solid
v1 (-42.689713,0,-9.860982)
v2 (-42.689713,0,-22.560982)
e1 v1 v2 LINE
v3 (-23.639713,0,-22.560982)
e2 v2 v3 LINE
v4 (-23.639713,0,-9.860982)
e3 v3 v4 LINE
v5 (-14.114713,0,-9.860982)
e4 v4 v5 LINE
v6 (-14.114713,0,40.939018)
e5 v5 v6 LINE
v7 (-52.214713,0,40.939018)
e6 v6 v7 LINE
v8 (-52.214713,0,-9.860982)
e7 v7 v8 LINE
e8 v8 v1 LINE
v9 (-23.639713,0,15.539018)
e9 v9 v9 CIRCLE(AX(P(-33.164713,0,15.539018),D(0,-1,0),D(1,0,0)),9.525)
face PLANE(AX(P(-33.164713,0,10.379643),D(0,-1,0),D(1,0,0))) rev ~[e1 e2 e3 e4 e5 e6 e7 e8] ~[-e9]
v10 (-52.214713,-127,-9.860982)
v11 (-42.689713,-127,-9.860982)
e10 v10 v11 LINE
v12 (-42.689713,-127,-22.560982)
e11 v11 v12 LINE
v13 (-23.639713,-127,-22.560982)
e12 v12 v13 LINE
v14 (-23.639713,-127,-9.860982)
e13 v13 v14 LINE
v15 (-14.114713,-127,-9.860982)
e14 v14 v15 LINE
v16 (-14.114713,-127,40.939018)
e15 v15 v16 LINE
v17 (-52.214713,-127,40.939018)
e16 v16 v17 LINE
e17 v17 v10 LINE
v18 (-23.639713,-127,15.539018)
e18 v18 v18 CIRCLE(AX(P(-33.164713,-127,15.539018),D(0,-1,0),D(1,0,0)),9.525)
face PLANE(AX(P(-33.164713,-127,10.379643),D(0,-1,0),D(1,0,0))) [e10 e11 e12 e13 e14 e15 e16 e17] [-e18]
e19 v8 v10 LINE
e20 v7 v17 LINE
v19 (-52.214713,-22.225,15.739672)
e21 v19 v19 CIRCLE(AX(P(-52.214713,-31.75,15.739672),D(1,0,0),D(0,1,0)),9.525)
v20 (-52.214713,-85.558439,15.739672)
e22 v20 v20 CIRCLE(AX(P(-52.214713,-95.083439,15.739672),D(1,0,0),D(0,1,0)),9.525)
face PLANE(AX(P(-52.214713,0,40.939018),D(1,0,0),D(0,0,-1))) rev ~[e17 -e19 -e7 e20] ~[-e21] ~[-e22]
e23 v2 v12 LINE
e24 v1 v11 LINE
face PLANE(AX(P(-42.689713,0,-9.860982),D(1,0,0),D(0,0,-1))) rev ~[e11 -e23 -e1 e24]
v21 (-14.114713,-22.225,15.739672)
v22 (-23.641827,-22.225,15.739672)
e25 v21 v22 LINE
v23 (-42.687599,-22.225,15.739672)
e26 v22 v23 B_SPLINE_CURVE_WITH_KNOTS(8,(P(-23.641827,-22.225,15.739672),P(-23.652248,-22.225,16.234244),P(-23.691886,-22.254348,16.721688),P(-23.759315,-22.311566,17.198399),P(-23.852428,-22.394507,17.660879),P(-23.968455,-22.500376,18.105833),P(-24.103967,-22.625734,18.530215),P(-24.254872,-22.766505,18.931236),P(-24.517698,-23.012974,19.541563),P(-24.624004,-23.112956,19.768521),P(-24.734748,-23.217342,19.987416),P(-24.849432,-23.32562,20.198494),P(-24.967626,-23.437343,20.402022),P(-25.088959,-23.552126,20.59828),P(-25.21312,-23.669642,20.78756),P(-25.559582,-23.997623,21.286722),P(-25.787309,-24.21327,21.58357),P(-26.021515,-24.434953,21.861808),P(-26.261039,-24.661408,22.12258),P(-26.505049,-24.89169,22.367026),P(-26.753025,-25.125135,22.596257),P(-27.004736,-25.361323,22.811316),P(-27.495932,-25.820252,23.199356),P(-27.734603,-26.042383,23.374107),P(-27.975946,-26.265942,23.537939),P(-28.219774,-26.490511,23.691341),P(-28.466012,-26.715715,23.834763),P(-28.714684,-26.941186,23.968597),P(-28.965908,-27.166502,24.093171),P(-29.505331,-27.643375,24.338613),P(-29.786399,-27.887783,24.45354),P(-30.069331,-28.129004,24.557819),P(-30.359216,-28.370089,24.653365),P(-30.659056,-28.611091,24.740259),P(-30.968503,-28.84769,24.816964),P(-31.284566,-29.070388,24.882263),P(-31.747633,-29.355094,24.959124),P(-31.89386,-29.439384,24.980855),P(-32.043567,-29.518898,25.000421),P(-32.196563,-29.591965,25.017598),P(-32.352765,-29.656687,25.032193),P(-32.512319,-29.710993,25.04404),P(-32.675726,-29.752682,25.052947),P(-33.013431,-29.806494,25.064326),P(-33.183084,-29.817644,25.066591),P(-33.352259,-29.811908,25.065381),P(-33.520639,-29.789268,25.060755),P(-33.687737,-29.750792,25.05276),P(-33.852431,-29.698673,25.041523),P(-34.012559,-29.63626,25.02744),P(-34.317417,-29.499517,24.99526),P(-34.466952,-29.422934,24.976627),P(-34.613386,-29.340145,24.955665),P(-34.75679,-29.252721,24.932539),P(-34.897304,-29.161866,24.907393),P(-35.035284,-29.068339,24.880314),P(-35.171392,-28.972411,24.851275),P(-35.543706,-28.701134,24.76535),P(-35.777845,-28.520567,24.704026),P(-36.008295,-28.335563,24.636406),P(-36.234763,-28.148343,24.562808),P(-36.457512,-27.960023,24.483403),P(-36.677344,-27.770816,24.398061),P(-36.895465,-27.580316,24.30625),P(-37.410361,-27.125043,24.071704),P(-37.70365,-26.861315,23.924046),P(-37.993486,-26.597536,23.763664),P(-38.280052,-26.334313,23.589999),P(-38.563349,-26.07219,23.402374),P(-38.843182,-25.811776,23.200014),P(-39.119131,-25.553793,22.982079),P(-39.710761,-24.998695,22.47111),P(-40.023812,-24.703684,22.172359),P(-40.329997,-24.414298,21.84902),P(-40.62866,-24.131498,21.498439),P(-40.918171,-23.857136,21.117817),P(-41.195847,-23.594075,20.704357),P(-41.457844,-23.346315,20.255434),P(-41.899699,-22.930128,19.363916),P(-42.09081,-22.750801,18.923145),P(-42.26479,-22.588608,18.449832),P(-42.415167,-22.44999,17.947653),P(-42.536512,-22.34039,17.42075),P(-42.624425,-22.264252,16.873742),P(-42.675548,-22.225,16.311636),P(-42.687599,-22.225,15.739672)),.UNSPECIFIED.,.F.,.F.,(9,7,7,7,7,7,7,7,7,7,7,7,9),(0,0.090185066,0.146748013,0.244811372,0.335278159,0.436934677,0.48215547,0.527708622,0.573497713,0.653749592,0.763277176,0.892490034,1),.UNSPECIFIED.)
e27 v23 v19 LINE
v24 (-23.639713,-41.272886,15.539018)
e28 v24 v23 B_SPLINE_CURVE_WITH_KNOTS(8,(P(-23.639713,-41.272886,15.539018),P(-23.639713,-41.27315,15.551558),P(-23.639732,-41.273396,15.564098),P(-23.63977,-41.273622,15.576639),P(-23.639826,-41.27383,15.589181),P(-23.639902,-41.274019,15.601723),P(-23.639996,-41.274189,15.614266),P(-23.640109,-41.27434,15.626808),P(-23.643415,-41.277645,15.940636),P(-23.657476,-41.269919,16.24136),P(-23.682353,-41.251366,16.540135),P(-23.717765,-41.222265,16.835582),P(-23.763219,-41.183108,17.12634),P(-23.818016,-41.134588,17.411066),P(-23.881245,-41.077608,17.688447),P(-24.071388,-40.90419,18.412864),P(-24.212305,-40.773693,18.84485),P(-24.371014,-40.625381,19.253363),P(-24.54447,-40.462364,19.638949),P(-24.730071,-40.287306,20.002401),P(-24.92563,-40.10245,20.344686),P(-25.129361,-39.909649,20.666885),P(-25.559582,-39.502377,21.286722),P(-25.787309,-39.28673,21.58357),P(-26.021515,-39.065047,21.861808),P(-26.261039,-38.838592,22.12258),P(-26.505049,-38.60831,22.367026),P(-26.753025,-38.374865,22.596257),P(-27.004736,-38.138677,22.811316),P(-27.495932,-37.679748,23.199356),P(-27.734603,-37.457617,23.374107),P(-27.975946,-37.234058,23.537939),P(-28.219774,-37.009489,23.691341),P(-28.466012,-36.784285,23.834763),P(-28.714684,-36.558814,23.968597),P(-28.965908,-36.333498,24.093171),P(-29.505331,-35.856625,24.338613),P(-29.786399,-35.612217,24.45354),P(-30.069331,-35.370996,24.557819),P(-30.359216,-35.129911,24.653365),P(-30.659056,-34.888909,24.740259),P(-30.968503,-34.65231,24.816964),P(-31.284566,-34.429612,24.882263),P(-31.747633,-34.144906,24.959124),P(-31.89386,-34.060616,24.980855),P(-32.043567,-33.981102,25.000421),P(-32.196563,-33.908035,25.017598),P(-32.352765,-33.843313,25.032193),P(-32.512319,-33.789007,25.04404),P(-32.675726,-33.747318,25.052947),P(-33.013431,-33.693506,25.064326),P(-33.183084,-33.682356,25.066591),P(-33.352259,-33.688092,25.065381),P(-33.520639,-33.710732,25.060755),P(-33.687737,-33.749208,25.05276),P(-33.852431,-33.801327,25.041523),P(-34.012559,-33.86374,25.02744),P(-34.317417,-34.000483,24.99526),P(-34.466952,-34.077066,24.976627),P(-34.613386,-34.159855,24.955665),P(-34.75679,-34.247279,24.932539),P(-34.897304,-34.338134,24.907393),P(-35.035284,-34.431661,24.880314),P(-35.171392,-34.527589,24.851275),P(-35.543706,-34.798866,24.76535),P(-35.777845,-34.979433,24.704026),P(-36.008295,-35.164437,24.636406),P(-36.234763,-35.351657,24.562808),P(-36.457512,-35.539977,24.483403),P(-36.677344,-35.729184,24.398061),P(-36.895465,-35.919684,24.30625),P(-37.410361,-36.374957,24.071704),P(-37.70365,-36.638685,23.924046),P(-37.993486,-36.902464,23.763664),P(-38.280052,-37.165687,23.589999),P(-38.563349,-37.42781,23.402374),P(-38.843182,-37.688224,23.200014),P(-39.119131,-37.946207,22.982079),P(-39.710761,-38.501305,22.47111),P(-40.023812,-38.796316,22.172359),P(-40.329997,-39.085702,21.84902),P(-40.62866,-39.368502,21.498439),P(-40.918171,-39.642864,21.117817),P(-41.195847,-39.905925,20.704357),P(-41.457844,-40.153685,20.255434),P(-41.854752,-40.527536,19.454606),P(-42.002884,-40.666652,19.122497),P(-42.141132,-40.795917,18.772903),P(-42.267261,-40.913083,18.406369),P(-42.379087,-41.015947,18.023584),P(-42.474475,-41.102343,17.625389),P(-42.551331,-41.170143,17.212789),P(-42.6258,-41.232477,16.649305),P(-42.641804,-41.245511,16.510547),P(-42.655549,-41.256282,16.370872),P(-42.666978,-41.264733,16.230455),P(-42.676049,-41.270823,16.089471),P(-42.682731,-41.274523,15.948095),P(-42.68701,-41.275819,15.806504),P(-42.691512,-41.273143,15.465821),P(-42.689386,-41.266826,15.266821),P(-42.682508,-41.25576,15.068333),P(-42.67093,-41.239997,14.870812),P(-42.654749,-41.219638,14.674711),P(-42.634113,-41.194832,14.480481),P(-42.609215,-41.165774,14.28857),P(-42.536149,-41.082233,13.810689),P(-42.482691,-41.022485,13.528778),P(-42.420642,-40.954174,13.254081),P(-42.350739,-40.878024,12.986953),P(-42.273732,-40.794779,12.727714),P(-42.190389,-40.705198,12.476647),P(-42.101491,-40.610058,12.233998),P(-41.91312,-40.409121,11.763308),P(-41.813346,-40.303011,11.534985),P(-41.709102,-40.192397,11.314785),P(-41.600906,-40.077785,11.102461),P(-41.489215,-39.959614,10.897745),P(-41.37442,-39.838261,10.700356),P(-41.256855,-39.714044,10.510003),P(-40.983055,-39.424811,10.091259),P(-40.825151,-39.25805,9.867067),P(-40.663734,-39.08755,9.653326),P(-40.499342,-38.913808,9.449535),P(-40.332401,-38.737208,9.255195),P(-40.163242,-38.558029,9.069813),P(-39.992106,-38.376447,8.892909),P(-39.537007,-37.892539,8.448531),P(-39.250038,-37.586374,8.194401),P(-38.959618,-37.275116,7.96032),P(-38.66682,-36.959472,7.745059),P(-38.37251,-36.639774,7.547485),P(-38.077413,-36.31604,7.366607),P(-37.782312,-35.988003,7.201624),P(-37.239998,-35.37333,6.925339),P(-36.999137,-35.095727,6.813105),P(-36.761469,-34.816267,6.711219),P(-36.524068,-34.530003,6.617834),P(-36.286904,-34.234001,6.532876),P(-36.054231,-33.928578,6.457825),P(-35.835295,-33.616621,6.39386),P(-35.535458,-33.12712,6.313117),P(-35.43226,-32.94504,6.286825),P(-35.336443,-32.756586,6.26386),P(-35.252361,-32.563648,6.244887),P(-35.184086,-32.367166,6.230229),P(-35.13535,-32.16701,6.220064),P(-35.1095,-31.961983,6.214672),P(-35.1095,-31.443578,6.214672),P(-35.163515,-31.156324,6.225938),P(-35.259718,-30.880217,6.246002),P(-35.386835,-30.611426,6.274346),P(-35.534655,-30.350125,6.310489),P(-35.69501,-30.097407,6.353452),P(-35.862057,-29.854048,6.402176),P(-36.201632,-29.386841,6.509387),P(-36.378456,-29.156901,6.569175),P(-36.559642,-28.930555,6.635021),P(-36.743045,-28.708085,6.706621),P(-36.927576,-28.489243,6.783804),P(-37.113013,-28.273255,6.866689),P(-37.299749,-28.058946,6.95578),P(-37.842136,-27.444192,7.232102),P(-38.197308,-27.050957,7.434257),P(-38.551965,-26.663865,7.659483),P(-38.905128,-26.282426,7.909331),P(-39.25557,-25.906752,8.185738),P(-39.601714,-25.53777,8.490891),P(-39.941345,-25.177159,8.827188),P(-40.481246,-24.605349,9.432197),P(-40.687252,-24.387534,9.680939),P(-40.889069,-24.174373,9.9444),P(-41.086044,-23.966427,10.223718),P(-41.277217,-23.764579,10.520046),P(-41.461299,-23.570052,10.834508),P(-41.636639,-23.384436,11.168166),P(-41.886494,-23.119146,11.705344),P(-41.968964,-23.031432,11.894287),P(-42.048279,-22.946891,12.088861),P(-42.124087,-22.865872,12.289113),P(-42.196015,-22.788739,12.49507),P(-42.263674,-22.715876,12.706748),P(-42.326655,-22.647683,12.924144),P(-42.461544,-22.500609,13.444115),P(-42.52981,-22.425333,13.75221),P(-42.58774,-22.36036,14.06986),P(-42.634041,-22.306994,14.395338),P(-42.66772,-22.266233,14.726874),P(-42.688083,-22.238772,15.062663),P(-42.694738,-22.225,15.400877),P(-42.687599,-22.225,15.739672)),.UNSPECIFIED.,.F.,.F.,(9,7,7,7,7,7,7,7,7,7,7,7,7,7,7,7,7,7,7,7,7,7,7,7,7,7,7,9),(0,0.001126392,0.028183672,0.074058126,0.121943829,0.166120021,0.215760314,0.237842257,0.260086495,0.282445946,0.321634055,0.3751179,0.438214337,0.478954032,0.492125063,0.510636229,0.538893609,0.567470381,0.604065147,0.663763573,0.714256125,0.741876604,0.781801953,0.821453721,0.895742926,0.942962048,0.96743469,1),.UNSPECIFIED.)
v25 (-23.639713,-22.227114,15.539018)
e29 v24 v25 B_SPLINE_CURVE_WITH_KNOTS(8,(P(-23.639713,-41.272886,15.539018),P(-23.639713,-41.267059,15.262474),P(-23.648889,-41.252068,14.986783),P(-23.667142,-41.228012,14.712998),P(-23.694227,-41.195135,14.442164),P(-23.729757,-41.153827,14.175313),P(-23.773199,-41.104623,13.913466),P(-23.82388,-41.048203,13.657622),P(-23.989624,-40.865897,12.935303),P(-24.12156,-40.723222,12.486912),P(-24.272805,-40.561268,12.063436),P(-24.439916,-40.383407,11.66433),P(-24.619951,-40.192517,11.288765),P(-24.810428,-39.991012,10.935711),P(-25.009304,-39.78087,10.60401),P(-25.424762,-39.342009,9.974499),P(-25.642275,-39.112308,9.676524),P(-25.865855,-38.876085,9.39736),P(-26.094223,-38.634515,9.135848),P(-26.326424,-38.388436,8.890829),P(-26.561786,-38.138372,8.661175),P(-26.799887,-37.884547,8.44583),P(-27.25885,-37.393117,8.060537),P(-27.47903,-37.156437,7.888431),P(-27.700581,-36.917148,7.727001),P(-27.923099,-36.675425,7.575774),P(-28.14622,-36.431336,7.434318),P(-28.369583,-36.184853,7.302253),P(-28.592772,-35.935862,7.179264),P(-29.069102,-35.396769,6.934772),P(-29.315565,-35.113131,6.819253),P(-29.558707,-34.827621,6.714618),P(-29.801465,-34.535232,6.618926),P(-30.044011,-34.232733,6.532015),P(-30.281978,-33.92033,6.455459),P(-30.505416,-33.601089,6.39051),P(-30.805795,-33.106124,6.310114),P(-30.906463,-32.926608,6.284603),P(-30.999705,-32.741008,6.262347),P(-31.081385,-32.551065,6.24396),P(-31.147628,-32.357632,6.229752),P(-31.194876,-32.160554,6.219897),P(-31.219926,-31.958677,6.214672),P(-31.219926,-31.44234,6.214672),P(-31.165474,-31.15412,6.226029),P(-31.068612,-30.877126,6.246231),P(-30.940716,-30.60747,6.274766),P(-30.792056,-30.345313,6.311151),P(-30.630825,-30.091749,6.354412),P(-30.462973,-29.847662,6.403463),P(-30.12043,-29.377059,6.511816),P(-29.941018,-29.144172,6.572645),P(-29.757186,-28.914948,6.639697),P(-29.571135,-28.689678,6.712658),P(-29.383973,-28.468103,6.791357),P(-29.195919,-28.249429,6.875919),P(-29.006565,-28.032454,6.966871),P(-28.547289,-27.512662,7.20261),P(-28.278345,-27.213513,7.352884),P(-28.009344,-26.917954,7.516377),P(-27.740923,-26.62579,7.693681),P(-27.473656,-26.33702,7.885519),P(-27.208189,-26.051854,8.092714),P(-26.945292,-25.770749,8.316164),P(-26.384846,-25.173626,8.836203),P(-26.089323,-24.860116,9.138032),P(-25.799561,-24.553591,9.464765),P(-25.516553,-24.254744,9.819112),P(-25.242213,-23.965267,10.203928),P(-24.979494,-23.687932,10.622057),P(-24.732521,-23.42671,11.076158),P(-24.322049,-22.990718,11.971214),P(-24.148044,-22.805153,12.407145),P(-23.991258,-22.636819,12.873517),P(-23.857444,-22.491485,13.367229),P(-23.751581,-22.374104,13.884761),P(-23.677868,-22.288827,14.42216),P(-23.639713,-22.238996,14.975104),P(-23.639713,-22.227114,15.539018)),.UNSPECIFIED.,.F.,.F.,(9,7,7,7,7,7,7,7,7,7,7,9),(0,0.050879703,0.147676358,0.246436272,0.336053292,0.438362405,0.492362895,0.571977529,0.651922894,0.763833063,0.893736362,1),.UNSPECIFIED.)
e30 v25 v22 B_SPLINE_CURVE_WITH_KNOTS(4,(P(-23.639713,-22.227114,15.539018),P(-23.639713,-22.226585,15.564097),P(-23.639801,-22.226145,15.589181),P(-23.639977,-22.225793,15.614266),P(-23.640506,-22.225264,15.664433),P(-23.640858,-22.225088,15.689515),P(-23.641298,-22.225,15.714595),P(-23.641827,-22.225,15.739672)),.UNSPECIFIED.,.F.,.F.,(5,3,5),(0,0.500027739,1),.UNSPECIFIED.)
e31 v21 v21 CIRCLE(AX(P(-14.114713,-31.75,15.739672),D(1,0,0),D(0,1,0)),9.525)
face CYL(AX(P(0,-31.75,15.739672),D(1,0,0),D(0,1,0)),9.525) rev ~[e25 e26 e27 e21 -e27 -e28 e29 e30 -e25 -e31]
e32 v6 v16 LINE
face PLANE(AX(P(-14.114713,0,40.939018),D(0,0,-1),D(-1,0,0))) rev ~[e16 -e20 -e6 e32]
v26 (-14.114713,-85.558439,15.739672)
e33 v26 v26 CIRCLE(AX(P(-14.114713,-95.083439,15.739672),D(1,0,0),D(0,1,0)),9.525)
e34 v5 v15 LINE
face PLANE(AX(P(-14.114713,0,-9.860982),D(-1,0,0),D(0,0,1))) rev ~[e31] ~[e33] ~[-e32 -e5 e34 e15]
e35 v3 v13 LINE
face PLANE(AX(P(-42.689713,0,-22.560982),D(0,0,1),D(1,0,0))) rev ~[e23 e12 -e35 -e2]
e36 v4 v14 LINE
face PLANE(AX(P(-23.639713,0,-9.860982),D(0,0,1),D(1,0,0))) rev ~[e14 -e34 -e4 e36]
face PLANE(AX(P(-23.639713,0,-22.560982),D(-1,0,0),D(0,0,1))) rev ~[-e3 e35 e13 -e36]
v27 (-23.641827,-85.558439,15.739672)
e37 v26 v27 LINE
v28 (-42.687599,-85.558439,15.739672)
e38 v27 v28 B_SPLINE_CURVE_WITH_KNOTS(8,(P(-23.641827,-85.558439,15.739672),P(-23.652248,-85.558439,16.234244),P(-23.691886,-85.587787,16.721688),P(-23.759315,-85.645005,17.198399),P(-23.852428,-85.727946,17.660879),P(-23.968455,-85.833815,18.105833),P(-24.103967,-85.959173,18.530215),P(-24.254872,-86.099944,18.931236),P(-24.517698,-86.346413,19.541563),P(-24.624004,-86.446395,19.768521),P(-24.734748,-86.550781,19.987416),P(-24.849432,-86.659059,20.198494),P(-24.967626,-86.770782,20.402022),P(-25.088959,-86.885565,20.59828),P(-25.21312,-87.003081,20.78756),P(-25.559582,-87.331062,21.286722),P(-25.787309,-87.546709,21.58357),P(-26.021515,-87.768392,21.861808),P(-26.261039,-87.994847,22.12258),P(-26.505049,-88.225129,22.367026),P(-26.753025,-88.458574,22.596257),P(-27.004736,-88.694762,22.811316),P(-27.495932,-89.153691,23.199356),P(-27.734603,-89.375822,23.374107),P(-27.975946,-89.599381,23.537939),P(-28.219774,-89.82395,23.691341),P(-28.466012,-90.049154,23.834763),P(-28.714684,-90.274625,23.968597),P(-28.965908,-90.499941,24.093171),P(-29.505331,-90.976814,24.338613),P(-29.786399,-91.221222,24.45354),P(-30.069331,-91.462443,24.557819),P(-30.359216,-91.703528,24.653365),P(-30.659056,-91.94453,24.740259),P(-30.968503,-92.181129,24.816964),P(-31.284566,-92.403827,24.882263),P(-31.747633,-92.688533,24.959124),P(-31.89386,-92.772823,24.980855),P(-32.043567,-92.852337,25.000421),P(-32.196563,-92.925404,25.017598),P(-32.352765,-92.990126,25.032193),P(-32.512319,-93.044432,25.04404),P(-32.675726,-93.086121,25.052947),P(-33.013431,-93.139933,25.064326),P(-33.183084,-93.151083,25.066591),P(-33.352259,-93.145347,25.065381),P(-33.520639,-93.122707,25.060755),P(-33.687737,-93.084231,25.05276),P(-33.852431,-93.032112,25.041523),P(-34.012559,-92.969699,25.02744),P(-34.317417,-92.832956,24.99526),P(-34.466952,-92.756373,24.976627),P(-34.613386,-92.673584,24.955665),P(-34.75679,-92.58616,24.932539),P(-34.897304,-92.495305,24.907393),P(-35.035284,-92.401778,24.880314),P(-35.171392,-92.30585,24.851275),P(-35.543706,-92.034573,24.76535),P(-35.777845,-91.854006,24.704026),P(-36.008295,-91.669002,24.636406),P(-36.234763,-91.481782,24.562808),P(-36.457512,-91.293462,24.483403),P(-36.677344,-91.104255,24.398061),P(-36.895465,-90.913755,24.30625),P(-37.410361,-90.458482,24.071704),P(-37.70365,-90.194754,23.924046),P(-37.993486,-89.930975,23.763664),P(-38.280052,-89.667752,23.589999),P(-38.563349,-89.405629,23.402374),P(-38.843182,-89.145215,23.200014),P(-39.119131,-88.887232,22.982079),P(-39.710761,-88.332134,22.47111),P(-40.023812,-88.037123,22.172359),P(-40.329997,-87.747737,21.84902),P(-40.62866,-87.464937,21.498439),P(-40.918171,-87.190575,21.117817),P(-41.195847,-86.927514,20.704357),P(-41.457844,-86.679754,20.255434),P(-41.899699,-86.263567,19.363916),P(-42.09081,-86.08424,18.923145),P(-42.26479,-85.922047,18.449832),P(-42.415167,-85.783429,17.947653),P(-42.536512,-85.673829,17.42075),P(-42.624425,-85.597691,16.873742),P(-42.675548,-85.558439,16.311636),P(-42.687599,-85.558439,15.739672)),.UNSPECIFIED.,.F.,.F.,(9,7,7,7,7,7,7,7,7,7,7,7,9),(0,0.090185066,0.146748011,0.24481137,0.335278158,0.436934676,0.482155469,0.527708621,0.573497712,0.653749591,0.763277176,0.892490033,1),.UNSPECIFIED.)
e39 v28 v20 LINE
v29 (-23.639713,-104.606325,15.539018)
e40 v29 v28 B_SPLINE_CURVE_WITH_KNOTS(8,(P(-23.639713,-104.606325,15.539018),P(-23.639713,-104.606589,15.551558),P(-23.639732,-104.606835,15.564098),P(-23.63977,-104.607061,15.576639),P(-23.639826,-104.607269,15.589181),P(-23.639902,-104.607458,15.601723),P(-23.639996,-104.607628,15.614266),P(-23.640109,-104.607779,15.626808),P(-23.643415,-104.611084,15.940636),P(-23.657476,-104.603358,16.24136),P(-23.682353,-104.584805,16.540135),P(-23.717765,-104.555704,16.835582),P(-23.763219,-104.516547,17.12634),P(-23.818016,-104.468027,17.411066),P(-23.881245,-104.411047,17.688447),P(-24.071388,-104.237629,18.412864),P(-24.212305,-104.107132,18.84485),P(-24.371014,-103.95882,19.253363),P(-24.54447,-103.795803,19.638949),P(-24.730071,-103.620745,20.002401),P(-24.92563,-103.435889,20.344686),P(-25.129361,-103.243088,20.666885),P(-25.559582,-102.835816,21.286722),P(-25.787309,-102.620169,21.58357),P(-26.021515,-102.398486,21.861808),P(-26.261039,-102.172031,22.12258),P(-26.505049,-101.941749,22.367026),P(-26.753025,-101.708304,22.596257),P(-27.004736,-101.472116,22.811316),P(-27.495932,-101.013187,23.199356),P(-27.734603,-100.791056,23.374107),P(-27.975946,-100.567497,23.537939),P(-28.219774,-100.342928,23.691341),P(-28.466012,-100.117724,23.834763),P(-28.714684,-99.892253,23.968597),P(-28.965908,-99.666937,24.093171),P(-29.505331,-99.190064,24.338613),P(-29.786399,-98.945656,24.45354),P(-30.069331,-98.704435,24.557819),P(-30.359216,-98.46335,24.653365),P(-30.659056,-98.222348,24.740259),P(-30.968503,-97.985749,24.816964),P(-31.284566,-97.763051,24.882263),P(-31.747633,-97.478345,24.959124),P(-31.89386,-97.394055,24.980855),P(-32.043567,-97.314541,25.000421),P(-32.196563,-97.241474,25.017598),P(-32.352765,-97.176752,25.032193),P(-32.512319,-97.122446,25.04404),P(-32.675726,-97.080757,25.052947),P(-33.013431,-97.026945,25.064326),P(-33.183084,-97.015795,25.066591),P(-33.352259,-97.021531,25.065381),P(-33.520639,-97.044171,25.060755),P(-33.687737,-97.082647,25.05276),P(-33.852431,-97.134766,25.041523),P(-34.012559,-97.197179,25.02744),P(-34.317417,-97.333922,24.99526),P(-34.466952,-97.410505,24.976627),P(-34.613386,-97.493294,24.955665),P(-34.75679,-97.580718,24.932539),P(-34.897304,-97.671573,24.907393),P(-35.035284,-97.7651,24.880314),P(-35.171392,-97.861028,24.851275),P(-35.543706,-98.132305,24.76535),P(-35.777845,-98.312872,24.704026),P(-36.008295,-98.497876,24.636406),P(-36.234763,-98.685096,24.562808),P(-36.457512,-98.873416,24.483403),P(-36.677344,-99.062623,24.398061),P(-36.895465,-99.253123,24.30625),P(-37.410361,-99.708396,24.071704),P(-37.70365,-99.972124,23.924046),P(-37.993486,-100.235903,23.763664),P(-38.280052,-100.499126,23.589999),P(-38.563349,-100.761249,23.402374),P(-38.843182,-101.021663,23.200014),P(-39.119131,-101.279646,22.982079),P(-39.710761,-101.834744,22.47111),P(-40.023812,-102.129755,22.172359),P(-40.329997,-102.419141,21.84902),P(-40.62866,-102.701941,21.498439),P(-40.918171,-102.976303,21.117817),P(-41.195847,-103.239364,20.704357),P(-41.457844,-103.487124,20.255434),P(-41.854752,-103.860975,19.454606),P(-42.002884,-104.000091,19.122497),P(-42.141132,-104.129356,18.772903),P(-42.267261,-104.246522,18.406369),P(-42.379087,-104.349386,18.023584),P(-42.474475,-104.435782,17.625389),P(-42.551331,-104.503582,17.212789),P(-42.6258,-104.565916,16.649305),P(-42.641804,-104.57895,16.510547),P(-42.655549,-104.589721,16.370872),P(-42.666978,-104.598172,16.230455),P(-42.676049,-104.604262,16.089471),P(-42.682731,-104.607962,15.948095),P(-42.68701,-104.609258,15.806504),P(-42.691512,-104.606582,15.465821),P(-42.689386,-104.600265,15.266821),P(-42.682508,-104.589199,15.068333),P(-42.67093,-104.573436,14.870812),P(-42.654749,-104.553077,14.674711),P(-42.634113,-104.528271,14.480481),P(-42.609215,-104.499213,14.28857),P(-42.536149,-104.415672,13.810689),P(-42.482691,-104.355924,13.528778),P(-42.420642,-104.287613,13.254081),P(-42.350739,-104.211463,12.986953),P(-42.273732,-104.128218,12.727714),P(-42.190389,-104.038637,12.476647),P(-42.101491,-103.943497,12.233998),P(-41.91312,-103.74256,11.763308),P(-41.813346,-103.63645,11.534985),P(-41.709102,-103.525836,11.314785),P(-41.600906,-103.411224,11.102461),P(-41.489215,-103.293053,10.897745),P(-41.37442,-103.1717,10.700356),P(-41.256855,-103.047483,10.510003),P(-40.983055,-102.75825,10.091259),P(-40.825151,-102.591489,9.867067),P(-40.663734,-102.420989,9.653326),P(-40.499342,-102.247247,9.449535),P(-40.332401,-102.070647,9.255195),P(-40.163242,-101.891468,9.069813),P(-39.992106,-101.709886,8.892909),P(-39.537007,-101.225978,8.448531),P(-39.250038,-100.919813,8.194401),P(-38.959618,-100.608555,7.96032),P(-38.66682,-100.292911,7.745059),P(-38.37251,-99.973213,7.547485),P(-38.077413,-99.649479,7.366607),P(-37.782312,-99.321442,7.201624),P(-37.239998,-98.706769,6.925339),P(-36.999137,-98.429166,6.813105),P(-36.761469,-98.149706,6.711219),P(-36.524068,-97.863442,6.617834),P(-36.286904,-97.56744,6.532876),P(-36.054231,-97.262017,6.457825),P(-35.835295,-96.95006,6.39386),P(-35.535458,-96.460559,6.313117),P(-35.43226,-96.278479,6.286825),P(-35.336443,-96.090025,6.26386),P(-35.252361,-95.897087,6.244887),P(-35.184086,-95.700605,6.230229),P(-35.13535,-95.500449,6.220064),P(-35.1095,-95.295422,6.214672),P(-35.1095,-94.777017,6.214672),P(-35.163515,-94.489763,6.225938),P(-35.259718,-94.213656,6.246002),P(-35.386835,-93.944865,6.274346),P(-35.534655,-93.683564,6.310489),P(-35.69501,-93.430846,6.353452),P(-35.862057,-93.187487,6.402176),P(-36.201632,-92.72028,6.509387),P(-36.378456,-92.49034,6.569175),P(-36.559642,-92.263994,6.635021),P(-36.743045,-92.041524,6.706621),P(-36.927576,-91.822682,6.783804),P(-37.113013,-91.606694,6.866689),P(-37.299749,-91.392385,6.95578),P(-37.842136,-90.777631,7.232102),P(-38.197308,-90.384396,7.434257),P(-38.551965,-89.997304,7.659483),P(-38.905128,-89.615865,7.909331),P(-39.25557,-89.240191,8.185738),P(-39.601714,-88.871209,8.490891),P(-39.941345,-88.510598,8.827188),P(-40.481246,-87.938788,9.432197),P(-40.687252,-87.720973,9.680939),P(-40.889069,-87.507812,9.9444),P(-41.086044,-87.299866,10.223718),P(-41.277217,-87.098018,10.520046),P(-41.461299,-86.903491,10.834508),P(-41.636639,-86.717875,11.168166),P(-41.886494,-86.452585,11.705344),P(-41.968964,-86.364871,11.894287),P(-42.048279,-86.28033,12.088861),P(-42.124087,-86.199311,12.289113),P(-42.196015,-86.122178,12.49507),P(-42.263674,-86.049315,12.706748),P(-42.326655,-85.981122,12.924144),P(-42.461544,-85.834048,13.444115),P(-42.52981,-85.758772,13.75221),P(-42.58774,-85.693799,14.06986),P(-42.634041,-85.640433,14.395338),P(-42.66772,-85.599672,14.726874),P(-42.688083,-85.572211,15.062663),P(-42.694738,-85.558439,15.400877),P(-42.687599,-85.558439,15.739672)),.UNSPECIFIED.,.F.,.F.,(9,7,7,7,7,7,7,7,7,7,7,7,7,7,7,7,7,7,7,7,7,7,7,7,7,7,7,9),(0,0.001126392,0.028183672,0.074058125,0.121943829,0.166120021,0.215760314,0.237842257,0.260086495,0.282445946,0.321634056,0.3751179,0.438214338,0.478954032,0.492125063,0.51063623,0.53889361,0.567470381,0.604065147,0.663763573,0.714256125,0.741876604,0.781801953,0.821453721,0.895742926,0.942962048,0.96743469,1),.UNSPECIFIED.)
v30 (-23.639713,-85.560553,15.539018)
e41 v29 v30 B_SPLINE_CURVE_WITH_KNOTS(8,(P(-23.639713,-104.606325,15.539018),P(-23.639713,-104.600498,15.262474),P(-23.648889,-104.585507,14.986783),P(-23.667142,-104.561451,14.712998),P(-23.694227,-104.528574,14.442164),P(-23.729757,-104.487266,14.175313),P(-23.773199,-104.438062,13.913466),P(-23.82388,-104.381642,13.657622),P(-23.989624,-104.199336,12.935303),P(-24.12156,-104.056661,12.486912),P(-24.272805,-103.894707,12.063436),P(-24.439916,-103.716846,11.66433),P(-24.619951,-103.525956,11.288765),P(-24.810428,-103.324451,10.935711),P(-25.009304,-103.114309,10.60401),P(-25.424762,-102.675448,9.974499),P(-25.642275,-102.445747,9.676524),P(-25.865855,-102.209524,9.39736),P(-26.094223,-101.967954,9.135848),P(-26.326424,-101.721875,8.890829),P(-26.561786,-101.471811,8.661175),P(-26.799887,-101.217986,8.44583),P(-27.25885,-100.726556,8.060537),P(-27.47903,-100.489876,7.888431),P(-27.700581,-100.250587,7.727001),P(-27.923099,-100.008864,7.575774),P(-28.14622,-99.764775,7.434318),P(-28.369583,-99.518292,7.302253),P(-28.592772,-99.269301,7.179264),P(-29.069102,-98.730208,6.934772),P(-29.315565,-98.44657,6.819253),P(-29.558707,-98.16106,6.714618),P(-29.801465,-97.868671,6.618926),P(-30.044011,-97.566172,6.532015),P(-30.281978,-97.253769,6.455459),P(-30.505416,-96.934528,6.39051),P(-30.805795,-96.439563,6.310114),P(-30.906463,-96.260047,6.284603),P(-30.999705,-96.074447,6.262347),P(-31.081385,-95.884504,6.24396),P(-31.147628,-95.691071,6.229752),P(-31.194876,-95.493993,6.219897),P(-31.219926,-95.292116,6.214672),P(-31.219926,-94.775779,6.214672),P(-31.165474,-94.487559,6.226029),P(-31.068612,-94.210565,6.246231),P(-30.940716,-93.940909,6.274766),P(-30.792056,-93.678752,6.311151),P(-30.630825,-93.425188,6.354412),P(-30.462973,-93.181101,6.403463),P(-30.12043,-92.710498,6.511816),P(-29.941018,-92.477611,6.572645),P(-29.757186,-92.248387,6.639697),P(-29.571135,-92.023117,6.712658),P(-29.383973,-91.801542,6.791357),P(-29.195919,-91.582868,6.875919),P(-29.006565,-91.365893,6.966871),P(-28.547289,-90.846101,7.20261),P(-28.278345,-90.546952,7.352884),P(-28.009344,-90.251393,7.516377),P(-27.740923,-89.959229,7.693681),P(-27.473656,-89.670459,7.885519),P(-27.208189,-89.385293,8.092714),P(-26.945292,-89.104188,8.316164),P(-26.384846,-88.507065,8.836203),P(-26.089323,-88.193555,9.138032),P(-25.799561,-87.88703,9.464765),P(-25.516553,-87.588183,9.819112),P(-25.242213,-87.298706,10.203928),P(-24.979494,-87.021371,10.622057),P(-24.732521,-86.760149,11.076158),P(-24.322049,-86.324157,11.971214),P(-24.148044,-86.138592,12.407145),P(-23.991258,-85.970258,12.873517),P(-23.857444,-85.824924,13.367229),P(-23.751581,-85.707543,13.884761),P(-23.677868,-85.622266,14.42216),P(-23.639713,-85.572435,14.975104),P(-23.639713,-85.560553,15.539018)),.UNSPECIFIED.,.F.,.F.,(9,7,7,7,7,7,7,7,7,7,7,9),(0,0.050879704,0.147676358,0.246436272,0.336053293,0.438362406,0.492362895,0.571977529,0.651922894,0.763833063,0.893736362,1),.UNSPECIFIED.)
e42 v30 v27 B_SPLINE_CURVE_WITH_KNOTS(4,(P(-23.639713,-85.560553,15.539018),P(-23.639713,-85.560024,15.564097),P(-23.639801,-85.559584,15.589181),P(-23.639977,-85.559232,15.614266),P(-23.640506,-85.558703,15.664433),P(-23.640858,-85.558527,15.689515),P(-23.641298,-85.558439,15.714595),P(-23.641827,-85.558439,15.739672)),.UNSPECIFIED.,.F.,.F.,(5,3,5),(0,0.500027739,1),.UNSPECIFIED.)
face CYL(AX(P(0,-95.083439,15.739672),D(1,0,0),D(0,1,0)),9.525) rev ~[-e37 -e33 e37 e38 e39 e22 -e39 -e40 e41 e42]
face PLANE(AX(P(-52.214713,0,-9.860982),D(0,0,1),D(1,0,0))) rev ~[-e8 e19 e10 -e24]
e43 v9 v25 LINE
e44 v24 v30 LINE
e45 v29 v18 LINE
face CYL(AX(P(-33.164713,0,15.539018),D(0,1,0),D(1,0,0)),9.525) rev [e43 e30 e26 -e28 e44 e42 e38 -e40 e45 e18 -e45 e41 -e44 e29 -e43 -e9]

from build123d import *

# Parameters (mm, degrees)
F0_R     = 9.525
F1_DEPTH = 127
F2_R     = 9.525
F3_DEPTH = 129.794
F4_DEPTH = 104.14


with BuildPart() as f1:
    # F0 (on Front) → F1 (new body)
    with BuildSketch(Plane.XZ):
        Polygon((-14.114713, 40.939018), (-52.214713, 40.939018), (-52.214713, 15.539018), (-52.214713, -9.860982), (-42.689713, -9.860982), (-42.689713, -22.560982), (-23.639713, -22.560982), (-23.639713, -9.860982), (-14.114713, -9.860982), align=None)
        with Locations((-33.164713, 15.539018)):
            Circle(F0_R, mode=Mode.SUBTRACT)
    extrude(amount=F1_DEPTH)

    # F2 (on Right) → F3 (cut)
    with BuildSketch(Plane.YZ):
        with Locations((-95.083439, 15.739672)):
            Circle(F2_R)
    extrude(amount=-F3_DEPTH, mode=Mode.SUBTRACT)

    # F2 (on Right) → F4 (cut)
    with BuildSketch(Plane.YZ):
        with Locations((-31.75, 15.739672)):
            Circle(F2_R)
    extrude(amount=-F4_DEPTH, mode=Mode.SUBTRACT)


solid = f1.part
